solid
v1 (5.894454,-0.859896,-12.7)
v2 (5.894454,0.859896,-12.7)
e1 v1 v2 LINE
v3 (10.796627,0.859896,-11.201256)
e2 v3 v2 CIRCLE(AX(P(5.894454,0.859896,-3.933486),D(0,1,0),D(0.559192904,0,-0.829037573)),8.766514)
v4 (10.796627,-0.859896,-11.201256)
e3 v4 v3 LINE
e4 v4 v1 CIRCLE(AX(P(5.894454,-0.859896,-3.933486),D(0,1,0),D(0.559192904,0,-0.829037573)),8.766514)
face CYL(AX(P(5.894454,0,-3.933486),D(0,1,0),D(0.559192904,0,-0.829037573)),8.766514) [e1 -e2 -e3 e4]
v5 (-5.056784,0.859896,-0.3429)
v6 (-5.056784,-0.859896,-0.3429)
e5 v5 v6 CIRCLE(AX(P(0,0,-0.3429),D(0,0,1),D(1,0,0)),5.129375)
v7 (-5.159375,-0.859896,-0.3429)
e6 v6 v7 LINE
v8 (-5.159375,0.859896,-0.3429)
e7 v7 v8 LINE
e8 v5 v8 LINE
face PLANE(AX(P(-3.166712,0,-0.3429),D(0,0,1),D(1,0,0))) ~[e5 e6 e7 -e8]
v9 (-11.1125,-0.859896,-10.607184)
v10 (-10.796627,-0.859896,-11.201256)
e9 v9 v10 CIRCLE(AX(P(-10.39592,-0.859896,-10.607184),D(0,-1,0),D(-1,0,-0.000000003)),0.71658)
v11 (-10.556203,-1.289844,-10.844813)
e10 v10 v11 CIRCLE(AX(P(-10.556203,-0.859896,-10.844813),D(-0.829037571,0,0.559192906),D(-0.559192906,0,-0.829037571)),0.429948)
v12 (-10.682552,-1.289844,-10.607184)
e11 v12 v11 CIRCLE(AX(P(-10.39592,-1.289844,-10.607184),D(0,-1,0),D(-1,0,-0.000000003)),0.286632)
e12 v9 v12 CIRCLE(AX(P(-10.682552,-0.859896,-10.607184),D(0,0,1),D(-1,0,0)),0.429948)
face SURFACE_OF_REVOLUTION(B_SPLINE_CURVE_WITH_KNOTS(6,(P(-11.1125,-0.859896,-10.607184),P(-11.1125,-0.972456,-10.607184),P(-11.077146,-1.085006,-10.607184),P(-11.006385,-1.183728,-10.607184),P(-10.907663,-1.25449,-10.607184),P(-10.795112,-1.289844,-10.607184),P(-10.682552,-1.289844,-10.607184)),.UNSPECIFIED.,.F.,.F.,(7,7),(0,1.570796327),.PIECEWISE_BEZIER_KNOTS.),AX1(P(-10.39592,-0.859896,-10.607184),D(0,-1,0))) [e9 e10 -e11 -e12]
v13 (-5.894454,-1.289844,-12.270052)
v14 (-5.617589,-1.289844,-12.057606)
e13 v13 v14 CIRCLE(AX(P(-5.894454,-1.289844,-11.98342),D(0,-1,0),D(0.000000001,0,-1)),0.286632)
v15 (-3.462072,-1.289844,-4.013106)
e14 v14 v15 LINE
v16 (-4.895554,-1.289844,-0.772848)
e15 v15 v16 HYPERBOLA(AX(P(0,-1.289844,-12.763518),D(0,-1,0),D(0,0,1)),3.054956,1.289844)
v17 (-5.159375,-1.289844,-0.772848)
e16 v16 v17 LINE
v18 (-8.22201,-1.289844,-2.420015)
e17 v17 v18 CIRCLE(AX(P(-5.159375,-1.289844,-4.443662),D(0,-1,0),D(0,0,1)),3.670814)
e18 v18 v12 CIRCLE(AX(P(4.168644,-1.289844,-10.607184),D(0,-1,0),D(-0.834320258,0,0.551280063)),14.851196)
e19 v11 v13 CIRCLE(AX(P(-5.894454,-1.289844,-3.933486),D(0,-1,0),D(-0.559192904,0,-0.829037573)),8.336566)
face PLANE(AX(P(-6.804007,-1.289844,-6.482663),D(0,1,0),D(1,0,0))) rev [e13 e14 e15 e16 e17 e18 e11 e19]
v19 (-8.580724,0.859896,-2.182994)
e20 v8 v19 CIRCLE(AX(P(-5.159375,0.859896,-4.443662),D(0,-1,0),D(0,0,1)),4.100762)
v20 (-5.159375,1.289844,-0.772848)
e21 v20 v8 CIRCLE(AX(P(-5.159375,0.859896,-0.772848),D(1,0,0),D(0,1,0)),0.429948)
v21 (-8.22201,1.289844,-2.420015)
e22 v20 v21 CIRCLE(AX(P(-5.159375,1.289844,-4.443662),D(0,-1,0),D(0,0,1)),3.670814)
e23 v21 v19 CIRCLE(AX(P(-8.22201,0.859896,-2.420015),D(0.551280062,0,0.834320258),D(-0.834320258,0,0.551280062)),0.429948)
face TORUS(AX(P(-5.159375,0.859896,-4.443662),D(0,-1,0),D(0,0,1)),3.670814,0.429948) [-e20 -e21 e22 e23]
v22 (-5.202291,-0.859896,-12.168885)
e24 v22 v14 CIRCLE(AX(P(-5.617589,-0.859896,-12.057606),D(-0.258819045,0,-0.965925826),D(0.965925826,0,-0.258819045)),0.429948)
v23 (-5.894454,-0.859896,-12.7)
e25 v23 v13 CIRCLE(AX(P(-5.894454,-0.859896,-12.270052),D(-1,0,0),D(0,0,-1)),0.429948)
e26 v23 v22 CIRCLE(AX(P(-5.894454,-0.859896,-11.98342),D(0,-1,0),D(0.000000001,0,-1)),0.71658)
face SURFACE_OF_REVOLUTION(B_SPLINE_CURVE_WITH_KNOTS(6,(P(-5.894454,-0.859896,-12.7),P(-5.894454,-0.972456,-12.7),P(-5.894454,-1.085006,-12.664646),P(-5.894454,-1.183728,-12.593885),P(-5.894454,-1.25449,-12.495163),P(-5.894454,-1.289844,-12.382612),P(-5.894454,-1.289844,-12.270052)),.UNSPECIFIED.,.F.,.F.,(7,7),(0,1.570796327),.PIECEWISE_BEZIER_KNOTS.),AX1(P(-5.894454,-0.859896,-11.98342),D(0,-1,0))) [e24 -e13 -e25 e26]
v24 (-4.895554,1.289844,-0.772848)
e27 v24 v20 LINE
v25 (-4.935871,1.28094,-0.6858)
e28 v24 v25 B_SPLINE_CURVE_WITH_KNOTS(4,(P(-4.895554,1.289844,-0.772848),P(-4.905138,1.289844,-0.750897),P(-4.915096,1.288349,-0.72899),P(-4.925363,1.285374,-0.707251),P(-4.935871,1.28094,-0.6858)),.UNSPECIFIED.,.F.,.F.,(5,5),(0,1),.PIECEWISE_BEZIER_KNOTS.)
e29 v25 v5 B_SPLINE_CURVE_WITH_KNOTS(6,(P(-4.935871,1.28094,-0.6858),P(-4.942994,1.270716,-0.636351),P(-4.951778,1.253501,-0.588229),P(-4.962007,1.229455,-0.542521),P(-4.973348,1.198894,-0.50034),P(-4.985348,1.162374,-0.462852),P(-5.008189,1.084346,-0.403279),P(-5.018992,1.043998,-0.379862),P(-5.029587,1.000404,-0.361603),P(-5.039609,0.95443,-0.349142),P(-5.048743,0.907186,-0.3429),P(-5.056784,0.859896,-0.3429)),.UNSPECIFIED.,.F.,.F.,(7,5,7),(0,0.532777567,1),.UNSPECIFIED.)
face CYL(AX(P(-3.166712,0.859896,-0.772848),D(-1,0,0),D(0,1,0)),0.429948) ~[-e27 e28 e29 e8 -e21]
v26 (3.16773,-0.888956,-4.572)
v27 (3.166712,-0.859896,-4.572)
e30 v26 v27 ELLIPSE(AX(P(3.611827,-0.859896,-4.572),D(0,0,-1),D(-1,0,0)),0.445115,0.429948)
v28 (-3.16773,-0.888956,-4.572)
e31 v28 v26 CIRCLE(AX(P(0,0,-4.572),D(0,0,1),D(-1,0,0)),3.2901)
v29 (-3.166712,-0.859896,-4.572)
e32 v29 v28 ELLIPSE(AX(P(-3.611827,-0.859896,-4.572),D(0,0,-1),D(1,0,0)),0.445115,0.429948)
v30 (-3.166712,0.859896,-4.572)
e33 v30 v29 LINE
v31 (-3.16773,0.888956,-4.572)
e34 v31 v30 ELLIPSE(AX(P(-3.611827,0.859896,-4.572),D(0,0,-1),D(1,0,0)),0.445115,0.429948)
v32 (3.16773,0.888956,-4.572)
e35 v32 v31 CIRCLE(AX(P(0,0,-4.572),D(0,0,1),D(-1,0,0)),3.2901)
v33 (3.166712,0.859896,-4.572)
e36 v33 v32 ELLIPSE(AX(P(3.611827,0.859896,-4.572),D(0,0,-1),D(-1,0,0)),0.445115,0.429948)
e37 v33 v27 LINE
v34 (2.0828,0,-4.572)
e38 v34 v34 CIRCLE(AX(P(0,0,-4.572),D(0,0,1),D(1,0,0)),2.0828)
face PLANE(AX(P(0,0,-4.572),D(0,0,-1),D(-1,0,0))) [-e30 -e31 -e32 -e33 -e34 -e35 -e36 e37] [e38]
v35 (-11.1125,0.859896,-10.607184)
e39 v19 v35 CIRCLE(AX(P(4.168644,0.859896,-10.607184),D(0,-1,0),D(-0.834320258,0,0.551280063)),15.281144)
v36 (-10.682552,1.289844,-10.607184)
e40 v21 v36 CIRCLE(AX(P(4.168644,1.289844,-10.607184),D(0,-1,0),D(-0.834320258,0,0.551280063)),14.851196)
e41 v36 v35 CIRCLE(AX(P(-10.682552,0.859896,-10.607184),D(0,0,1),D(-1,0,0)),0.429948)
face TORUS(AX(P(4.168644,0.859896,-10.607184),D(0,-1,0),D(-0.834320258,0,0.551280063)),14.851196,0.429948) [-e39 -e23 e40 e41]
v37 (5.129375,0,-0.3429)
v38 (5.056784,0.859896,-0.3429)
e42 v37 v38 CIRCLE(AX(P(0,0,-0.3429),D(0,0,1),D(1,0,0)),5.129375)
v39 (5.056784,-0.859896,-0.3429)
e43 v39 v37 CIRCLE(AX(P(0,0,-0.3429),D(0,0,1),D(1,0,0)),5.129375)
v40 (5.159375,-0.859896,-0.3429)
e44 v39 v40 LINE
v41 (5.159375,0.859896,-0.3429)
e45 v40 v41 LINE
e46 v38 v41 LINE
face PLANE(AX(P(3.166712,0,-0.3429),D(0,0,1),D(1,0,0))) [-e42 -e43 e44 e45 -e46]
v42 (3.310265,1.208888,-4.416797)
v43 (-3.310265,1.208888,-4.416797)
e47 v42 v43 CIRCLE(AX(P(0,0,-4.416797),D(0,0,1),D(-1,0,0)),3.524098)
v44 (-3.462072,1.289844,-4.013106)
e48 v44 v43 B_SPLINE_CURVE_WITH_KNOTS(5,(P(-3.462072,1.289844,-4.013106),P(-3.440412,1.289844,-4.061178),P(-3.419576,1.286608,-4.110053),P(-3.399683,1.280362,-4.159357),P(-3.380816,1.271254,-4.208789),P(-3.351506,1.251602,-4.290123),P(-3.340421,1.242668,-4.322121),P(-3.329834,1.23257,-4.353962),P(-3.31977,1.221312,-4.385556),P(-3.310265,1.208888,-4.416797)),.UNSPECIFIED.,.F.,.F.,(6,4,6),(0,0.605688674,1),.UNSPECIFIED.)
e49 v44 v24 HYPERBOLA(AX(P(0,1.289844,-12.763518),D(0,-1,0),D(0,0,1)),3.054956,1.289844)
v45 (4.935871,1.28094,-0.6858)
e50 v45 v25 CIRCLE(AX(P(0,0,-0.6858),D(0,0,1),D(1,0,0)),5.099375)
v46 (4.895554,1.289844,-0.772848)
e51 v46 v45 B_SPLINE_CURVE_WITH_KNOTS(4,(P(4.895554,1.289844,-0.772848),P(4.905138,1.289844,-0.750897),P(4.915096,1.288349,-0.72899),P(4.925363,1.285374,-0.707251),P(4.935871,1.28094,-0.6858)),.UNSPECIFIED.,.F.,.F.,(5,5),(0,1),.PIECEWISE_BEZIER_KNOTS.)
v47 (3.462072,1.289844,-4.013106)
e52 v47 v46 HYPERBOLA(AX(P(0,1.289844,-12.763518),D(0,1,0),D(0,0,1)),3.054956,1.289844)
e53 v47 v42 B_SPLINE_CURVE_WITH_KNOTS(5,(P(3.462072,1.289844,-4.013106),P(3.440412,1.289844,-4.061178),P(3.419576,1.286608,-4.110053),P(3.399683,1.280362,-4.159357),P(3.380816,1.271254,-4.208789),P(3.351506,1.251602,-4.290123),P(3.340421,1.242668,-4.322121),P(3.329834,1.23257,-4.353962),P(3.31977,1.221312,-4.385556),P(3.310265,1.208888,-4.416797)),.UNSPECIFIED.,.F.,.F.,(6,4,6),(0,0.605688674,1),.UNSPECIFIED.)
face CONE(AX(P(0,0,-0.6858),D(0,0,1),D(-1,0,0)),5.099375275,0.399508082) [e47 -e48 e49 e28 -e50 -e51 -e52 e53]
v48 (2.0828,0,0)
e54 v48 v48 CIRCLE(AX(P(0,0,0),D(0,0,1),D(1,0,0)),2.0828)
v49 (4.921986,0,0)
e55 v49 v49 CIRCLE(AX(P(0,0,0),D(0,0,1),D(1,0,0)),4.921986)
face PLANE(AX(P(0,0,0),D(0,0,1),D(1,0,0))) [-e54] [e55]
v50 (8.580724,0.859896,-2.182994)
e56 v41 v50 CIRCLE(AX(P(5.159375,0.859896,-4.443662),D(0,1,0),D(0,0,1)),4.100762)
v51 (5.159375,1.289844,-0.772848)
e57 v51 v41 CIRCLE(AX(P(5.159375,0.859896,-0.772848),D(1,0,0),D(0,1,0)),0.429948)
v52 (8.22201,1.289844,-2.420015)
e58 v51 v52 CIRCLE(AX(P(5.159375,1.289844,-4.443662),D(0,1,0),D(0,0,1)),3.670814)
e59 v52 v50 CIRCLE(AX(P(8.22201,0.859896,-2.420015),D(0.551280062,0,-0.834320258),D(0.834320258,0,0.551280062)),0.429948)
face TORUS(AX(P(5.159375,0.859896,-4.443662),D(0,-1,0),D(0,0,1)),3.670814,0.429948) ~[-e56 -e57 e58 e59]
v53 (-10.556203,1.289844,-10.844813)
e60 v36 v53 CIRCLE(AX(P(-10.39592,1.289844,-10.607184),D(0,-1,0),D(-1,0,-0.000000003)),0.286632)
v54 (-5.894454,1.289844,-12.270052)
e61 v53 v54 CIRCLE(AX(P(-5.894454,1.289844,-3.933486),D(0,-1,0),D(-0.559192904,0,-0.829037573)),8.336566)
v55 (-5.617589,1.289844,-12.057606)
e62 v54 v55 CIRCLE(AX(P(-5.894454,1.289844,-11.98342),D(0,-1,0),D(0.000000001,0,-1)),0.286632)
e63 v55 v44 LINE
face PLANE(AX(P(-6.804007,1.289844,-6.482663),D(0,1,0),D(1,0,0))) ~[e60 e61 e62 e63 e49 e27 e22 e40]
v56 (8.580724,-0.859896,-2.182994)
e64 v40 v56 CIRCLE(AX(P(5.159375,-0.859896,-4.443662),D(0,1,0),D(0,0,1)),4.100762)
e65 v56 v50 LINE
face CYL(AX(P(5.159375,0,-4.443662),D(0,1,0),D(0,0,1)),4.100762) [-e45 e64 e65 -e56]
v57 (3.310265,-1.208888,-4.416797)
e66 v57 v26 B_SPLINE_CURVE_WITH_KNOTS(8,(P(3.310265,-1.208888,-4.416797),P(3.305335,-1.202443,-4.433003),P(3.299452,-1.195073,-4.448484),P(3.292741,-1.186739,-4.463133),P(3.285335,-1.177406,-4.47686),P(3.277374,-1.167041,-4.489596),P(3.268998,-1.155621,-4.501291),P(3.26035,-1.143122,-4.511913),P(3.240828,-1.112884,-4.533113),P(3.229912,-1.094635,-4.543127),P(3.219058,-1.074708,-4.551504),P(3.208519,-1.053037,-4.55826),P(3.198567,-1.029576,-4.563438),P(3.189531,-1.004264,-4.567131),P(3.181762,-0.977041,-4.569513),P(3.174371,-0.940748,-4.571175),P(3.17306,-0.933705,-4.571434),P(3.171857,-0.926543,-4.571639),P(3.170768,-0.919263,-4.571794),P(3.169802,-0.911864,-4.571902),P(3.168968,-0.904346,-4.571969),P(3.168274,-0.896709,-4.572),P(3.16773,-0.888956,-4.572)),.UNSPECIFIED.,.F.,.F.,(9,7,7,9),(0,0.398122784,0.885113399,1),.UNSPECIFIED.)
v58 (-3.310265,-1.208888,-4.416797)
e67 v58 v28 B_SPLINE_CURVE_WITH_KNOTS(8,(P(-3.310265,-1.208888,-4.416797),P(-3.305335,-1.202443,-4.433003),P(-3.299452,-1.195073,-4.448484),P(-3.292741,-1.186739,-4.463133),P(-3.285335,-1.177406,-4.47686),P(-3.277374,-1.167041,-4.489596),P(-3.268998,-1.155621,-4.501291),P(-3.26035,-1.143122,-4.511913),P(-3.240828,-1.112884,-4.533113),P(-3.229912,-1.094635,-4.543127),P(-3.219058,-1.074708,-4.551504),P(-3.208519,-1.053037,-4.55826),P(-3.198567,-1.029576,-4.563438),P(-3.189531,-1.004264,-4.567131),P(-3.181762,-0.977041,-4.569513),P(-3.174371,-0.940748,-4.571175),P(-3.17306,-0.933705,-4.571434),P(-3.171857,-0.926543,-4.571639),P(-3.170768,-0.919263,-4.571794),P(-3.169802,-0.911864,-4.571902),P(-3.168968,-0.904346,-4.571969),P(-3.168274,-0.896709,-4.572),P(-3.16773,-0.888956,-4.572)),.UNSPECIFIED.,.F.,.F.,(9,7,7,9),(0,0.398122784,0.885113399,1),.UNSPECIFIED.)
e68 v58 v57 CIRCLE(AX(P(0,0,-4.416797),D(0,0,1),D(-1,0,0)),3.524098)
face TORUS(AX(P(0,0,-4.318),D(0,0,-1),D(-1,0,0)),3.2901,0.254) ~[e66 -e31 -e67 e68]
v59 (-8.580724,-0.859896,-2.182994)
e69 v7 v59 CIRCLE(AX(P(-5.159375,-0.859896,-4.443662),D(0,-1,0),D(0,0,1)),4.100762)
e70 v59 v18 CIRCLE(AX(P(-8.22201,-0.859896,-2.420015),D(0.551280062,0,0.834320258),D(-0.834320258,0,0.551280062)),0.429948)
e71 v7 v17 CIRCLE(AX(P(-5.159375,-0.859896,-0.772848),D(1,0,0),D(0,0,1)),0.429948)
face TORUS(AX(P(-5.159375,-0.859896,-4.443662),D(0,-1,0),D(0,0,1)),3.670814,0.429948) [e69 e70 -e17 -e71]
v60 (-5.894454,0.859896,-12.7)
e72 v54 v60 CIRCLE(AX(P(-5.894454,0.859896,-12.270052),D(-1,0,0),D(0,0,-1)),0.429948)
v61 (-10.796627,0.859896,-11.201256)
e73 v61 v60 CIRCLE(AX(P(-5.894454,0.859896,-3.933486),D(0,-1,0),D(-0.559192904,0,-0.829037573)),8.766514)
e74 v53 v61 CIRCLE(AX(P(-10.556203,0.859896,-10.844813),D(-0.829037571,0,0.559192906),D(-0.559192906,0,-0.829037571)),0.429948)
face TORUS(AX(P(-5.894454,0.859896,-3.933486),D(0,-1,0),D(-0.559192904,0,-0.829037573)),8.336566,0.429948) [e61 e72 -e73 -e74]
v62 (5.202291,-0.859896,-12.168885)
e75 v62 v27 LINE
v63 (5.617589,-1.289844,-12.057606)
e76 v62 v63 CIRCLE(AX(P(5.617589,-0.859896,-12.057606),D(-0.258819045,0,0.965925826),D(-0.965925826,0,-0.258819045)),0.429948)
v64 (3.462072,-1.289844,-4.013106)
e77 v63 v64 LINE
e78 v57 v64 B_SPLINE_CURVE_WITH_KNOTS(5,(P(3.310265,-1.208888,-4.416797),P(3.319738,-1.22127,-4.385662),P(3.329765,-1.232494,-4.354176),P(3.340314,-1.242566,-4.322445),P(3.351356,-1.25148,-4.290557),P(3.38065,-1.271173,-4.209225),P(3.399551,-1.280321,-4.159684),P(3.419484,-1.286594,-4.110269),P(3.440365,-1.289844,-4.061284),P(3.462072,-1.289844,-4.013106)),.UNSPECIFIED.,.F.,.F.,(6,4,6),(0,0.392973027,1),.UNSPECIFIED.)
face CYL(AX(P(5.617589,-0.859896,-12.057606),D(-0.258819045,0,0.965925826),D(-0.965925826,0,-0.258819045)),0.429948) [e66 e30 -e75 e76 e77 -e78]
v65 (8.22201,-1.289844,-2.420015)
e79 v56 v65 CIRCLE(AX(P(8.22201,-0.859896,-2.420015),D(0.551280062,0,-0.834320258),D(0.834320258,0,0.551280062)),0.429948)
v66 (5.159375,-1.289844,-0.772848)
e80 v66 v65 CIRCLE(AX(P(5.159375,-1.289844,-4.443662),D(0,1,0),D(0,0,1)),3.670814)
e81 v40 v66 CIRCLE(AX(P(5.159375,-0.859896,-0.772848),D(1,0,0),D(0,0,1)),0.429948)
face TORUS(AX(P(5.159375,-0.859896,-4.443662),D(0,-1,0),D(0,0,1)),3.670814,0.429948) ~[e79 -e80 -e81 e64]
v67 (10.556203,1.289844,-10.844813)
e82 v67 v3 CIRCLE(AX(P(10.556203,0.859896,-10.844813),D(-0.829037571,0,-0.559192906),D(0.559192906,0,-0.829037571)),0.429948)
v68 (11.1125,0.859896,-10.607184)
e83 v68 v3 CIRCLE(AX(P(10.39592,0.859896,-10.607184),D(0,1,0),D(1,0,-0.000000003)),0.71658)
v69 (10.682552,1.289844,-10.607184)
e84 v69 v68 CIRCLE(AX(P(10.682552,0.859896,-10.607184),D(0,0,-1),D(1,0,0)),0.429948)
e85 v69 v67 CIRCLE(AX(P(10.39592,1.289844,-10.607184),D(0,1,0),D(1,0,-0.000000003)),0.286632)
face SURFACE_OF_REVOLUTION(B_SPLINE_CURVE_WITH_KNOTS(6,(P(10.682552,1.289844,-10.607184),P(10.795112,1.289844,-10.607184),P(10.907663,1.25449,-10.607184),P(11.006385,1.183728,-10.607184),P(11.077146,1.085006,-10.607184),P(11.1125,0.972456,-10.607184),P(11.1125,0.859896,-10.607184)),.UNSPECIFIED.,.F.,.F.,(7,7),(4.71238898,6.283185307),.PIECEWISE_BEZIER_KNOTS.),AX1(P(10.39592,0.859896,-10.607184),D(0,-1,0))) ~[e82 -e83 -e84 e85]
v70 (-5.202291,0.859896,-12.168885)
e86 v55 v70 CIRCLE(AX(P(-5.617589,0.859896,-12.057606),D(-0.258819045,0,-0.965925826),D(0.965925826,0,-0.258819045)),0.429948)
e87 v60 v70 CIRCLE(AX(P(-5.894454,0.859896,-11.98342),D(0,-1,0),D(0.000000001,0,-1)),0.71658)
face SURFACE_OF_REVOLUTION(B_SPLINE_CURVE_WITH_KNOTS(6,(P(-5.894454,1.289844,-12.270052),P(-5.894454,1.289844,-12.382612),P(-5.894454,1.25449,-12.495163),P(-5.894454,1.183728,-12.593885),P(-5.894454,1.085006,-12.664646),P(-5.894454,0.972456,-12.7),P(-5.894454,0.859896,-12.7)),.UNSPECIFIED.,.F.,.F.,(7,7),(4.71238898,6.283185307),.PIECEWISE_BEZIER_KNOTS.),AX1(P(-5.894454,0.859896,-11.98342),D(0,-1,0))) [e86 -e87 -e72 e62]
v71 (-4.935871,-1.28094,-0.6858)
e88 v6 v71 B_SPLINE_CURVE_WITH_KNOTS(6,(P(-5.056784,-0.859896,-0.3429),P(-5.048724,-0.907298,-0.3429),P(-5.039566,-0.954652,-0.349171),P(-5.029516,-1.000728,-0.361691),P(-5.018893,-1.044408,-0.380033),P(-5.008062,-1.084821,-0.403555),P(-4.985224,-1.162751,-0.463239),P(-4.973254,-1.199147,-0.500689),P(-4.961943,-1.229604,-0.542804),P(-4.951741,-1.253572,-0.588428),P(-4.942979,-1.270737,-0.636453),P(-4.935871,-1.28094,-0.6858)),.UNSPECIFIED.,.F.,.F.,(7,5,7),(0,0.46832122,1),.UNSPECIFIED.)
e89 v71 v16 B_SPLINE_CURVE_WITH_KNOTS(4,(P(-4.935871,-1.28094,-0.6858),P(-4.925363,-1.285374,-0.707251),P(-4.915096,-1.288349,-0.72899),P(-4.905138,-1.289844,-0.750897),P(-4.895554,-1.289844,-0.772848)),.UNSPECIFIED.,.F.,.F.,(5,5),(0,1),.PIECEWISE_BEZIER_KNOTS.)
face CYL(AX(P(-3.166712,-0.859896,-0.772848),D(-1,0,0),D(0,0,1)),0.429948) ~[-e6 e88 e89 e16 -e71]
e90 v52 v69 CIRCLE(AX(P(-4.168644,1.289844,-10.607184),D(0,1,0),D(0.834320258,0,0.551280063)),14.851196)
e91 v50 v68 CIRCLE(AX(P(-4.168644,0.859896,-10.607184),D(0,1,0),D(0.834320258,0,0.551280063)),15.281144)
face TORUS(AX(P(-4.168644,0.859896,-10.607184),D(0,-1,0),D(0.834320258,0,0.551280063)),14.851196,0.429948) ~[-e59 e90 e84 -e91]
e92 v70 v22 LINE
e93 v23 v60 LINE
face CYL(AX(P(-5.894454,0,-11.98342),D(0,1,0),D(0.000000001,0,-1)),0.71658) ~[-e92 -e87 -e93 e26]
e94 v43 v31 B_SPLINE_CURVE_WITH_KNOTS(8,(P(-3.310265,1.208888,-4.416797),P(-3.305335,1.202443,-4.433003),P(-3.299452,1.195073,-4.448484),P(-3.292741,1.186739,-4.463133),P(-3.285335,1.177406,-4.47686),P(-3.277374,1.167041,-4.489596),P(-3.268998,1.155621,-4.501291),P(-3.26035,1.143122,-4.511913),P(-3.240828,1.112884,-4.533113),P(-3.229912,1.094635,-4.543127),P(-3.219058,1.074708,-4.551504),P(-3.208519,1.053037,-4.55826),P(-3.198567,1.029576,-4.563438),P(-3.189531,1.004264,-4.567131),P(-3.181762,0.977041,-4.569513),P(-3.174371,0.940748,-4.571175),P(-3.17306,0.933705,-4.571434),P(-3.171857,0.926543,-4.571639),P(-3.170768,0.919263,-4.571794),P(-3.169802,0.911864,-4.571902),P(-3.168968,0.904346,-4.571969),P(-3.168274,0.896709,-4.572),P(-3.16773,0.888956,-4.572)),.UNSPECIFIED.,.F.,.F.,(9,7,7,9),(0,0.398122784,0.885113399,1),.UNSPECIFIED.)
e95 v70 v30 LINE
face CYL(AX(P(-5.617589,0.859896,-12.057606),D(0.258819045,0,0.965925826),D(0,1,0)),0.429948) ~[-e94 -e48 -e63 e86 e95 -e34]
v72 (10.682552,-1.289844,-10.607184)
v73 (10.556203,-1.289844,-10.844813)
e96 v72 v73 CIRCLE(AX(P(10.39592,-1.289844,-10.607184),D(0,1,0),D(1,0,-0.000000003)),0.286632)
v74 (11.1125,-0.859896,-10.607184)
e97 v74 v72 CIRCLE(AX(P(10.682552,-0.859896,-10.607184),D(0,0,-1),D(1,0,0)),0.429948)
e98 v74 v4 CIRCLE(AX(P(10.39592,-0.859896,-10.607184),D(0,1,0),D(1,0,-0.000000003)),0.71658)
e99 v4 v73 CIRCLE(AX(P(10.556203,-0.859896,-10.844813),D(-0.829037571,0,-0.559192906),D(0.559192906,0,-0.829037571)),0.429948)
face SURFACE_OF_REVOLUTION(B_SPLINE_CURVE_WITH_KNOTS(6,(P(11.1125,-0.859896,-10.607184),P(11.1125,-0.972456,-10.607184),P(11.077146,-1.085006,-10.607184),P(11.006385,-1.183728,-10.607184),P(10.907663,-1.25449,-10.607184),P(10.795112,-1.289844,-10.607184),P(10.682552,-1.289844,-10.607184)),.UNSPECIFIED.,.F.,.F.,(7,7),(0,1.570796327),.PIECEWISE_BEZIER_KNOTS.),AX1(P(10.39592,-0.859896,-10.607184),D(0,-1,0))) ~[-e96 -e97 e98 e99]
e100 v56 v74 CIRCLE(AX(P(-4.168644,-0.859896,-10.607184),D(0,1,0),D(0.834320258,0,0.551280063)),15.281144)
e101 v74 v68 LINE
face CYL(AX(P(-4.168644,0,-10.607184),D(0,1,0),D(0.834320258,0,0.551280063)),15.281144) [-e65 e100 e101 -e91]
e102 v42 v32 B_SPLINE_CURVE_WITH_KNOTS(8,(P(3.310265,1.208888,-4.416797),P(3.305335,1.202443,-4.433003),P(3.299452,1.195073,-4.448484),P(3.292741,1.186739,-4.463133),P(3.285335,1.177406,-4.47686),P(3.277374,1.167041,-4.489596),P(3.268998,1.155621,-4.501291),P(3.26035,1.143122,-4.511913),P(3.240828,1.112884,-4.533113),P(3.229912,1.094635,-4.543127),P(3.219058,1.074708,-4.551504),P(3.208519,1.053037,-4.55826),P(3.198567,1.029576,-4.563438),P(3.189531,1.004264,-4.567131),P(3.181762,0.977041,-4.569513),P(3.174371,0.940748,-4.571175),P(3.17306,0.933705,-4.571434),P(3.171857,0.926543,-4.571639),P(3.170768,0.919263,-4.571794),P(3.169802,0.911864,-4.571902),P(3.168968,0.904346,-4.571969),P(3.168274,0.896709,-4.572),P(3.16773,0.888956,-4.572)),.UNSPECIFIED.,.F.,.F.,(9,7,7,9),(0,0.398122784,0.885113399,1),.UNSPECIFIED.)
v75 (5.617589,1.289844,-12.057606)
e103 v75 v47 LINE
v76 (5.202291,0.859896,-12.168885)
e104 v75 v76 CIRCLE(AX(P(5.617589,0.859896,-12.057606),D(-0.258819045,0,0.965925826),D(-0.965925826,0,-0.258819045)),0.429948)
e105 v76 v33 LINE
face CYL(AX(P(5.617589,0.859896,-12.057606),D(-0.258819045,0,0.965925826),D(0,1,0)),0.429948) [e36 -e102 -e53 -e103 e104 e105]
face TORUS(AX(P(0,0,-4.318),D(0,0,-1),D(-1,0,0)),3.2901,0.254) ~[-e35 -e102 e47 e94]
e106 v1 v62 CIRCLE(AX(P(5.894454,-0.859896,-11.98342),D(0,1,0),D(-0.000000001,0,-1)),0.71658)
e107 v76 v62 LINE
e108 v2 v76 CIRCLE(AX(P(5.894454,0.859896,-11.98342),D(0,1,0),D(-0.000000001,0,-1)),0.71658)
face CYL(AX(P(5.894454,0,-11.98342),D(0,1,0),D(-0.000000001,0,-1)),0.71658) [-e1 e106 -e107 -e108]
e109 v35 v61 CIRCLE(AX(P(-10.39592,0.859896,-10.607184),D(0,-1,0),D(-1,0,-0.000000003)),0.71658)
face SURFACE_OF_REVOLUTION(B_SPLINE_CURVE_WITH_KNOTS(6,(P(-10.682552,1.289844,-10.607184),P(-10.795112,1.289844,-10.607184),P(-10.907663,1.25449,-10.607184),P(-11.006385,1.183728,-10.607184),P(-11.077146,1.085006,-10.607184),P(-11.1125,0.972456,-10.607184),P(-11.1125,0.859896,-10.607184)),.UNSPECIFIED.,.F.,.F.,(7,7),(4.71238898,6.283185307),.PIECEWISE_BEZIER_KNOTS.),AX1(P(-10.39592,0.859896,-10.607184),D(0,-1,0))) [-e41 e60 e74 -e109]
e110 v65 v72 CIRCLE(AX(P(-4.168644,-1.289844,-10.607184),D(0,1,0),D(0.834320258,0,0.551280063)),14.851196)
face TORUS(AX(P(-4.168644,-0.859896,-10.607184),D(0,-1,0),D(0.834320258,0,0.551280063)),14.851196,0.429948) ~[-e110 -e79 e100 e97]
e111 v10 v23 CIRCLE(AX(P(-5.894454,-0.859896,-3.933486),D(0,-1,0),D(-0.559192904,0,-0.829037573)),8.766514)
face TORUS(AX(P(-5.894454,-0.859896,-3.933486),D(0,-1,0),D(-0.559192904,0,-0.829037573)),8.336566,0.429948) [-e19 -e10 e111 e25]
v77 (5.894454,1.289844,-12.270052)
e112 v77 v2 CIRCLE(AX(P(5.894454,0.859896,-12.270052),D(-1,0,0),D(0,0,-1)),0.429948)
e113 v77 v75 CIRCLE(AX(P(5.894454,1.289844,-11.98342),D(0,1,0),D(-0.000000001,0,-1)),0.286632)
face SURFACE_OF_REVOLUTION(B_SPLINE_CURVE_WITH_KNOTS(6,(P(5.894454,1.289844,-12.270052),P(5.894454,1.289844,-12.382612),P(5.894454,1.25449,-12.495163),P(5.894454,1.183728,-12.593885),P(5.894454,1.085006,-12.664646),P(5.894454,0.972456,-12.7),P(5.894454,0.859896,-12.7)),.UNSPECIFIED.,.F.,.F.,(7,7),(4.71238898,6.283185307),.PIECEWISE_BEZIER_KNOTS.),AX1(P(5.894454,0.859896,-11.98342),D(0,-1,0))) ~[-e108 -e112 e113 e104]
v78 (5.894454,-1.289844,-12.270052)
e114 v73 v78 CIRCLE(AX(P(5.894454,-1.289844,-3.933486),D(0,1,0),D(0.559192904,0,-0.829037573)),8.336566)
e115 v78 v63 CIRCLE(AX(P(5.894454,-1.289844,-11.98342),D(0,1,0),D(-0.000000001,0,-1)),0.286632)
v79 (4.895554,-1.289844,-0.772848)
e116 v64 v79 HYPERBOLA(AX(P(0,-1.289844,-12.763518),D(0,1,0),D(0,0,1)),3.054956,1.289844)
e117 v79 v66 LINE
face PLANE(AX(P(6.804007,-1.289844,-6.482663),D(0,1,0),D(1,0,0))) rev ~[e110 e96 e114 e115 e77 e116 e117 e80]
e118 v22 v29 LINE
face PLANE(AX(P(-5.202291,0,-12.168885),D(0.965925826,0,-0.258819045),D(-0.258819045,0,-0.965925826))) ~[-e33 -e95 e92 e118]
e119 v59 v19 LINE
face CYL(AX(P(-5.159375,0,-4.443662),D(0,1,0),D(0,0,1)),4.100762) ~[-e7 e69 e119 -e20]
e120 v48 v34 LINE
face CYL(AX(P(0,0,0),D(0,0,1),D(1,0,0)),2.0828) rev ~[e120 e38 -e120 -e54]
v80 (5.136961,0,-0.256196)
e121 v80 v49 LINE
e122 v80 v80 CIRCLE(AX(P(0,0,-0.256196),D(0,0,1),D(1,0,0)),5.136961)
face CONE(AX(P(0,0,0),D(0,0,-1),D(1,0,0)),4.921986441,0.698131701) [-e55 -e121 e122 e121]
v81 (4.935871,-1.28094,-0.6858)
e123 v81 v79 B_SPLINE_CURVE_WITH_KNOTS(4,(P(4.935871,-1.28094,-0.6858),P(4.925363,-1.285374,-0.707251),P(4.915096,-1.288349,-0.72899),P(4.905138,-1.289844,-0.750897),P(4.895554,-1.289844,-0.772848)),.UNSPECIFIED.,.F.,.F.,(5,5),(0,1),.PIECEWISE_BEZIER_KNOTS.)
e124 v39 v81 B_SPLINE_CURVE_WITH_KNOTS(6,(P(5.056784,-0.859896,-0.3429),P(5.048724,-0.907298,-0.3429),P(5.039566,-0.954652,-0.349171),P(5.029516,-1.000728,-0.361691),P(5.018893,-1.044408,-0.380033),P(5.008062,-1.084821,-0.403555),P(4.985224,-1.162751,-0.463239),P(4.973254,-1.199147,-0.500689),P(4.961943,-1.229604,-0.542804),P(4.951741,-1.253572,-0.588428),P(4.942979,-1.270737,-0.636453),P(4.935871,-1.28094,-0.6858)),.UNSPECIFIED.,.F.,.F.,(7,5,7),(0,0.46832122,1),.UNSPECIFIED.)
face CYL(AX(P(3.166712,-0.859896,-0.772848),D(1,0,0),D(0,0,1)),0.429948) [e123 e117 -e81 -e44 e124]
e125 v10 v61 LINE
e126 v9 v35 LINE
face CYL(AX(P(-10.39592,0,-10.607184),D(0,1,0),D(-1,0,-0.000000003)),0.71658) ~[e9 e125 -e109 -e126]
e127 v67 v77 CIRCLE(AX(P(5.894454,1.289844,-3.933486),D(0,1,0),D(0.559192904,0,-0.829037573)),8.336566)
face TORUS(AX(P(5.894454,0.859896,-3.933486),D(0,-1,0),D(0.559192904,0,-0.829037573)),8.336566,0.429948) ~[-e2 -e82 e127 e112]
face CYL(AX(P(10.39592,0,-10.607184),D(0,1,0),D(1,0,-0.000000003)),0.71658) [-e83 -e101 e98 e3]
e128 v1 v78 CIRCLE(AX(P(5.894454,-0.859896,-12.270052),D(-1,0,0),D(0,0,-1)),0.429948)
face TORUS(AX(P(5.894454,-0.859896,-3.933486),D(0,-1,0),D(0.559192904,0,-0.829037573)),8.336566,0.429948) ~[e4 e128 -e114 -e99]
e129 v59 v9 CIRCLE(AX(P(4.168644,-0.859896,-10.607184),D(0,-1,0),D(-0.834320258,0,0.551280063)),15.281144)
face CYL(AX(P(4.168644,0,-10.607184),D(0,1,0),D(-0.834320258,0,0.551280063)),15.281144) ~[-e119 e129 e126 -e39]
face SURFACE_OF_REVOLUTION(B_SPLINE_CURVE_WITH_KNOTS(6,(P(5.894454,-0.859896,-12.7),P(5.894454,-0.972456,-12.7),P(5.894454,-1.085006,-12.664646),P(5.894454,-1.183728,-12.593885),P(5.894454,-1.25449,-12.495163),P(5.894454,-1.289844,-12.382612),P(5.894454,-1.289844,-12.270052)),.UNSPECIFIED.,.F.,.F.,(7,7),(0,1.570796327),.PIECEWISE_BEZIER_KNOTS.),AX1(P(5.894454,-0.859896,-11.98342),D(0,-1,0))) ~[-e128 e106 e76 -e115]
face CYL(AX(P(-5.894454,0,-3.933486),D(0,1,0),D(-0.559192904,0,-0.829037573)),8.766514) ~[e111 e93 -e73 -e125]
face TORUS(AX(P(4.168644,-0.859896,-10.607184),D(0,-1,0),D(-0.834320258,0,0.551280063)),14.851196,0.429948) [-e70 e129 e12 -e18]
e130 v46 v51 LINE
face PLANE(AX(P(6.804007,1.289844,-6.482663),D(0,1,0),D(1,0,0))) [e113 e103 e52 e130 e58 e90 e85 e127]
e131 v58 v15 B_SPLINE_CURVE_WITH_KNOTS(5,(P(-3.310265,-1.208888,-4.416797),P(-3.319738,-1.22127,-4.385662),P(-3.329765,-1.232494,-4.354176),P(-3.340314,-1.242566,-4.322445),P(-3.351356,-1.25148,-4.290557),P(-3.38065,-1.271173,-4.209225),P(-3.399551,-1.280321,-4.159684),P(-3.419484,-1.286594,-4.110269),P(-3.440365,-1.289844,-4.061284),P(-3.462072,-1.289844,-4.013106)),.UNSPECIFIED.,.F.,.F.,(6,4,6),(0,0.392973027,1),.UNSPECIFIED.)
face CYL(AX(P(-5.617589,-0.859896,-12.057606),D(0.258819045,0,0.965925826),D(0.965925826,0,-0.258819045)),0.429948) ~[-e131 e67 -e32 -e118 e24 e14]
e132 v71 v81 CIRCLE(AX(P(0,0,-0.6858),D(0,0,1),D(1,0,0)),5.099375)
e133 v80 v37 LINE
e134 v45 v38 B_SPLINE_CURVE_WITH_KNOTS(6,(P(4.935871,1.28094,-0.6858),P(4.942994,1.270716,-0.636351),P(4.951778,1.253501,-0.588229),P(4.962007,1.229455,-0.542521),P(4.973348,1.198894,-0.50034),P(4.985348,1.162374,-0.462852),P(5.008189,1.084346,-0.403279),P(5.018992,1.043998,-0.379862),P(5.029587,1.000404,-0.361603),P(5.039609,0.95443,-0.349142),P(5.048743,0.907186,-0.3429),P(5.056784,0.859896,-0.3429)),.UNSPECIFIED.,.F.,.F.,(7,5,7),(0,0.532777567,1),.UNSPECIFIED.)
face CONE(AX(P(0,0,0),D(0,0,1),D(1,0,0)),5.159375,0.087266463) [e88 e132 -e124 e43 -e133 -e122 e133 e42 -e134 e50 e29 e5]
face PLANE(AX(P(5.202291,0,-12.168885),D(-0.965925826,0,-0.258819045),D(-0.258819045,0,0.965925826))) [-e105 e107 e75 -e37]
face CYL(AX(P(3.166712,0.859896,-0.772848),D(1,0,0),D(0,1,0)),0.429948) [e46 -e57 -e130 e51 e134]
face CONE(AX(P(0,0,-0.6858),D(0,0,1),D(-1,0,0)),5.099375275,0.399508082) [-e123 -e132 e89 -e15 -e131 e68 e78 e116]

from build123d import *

# Parameters (mm, degrees)
EXTRUDE2_DEPTH     = 1.28984375
SKETCH3_R          = 5.159375
EXTRUDE1_DEPTH     = 0.6858
EXTRUDE1_DRAFT     = -5
SKETCH15_R         = 5.099375275
EXTRUDE3_DEPTH     = 3.8862
EXTRUDE3_TAPER     = 22.89012698
FILLET3_R          = 0.254
SKETCH4_R          = 2.0828
CUT_EXTRUDE1_DEPTH = 18.646438922
CHAMFER1_SIZE      = 0.257175
CHAMFER1_SIZE2     = 0.237388559
FILLET4_R          = 0.429947917


with BuildPart() as part:
    # Sketch13 → Extrude2 (new, symmetric)
    with BuildSketch(Plane(origin=(0, 0, 0), x_dir=(1, 0, 0), z_dir=(0, 1, 0))):
        with BuildLine():
            Line((3.166712045, 0.3429), (5.159375, 0.3429))
            ThreePointArc((5.159375, 0.3429), (7.101768744, 0.832103373), (8.580723973, 2.182993757))
            ThreePointArc((8.580723973, 2.182993757), (10.465874951, 6.208977734), (11.1125, 10.607183874))
            ThreePointArc((11.1125, 10.607183874), (11.028622602, 10.943597741), (10.796626512, 11.201255503))
            ThreePointArc((10.796626512, 11.201255503), (8.457534763, 12.316945036), (5.894454148, 12.7))
            ThreePointArc((5.894454148, 12.7), (5.458227968, 12.551921165), (5.202291154, 12.168884654))
            Line((5.202291154, 12.168884654), (3.166712045, 4.572))
            Line((3.166712045, 4.572), (3.166712045, 0.3429))
        make_face()
    extrude(amount=EXTRUDE2_DEPTH, both=True)

    # Fillet4
    fillet4_edges = [part.edges().sort_by_distance(p)[0] for p in [
        (7.101768744, 1.28984375, -0.832103373),
        (4.163043523, -1.28984375, -0.3429),
        (10.465874951, 1.28984375, -6.208977734),
        (11.028622602, 1.28984375, -10.943597741),
        (8.457534763, 1.28984375, -12.316945036),
        (5.458227968, 1.28984375, -12.551921165),
        (4.1845016, 1.28984375, -8.370442327),
        (4.163043523, 1.28984375, -0.3429),
        (4.1845016, -1.28984375, -8.370442327),
        (5.458227968, -1.28984375, -12.551921165),
        (8.457534763, -1.28984375, -12.316945036),
        (11.028622602, -1.28984375, -10.943597741),
        (10.465874951, -1.28984375, -6.208977734),
        (7.101768744, -1.28984375, -0.832103373),
    ]]
    fillet(fillet4_edges, radius=FILLET4_R)


with BuildPart() as body_2:
    # Sketch3 → Extrude1 (with draft: the straight prism first)
    with BuildSketch(Plane.XY):
        Circle(SKETCH3_R)
    extrude(amount=-EXTRUDE1_DEPTH)
    # Extrude1: the draft: its side faces are tilted about the plane it starts from
    extrude1_sides = [body_2.faces().sort_by_distance(p)[0] for p in [
        (-5.159375, 0, -0.3429),
    ]]
    draft(extrude1_sides, Plane.XY, EXTRUDE1_DRAFT)

    # Sketch15 → Extrude3 (add)
    with BuildSketch(Plane(origin=(0, 0, -0.6858), x_dir=(-1, 0, 0), z_dir=(0, 0, -1))):
        Circle(SKETCH15_R)
    extrude(amount=EXTRUDE3_DEPTH, taper=EXTRUDE3_TAPER)

    # Fillet3
    fillet3_edges = [body_2.edges().sort_by_distance(p)[0] for p in [
        (3.458569214, 0, -4.572),
    ]]
    fillet(fillet3_edges, radius=FILLET3_R)

    # Sketch4 → Cut-Extrude1 (cut, through all)
    with BuildSketch(Plane.XY):
        Circle(SKETCH4_R)
    extrude(amount=-CUT_EXTRUDE1_DEPTH, mode=Mode.SUBTRACT)

    # Chamfer1
    chamfer1_edges = [body_2.edges().sort_by_distance(p)[0] for p in [
        (-5.159375, 0, 0),
    ]]
    chamfer1_side = [body_2.faces().sort_by_distance(p)[0] for p in [
        (-5.129375137, 0, -0.3429),
    ]]
    chamfer(chamfer1_edges, length=CHAMFER1_SIZE, length2=CHAMFER1_SIZE2, reference=chamfer1_side[0])


with BuildPart() as body_3:
    # Mirror6: mirrored copy
    add(part.part.mirror(Plane(origin=(0, 0, 0), x_dir=(0, 0, 1), z_dir=(1, 0, 0))))

    # Combine2: union part, body 2
    add(part.part)
    add(body_2.part)


solid = body_3.part
